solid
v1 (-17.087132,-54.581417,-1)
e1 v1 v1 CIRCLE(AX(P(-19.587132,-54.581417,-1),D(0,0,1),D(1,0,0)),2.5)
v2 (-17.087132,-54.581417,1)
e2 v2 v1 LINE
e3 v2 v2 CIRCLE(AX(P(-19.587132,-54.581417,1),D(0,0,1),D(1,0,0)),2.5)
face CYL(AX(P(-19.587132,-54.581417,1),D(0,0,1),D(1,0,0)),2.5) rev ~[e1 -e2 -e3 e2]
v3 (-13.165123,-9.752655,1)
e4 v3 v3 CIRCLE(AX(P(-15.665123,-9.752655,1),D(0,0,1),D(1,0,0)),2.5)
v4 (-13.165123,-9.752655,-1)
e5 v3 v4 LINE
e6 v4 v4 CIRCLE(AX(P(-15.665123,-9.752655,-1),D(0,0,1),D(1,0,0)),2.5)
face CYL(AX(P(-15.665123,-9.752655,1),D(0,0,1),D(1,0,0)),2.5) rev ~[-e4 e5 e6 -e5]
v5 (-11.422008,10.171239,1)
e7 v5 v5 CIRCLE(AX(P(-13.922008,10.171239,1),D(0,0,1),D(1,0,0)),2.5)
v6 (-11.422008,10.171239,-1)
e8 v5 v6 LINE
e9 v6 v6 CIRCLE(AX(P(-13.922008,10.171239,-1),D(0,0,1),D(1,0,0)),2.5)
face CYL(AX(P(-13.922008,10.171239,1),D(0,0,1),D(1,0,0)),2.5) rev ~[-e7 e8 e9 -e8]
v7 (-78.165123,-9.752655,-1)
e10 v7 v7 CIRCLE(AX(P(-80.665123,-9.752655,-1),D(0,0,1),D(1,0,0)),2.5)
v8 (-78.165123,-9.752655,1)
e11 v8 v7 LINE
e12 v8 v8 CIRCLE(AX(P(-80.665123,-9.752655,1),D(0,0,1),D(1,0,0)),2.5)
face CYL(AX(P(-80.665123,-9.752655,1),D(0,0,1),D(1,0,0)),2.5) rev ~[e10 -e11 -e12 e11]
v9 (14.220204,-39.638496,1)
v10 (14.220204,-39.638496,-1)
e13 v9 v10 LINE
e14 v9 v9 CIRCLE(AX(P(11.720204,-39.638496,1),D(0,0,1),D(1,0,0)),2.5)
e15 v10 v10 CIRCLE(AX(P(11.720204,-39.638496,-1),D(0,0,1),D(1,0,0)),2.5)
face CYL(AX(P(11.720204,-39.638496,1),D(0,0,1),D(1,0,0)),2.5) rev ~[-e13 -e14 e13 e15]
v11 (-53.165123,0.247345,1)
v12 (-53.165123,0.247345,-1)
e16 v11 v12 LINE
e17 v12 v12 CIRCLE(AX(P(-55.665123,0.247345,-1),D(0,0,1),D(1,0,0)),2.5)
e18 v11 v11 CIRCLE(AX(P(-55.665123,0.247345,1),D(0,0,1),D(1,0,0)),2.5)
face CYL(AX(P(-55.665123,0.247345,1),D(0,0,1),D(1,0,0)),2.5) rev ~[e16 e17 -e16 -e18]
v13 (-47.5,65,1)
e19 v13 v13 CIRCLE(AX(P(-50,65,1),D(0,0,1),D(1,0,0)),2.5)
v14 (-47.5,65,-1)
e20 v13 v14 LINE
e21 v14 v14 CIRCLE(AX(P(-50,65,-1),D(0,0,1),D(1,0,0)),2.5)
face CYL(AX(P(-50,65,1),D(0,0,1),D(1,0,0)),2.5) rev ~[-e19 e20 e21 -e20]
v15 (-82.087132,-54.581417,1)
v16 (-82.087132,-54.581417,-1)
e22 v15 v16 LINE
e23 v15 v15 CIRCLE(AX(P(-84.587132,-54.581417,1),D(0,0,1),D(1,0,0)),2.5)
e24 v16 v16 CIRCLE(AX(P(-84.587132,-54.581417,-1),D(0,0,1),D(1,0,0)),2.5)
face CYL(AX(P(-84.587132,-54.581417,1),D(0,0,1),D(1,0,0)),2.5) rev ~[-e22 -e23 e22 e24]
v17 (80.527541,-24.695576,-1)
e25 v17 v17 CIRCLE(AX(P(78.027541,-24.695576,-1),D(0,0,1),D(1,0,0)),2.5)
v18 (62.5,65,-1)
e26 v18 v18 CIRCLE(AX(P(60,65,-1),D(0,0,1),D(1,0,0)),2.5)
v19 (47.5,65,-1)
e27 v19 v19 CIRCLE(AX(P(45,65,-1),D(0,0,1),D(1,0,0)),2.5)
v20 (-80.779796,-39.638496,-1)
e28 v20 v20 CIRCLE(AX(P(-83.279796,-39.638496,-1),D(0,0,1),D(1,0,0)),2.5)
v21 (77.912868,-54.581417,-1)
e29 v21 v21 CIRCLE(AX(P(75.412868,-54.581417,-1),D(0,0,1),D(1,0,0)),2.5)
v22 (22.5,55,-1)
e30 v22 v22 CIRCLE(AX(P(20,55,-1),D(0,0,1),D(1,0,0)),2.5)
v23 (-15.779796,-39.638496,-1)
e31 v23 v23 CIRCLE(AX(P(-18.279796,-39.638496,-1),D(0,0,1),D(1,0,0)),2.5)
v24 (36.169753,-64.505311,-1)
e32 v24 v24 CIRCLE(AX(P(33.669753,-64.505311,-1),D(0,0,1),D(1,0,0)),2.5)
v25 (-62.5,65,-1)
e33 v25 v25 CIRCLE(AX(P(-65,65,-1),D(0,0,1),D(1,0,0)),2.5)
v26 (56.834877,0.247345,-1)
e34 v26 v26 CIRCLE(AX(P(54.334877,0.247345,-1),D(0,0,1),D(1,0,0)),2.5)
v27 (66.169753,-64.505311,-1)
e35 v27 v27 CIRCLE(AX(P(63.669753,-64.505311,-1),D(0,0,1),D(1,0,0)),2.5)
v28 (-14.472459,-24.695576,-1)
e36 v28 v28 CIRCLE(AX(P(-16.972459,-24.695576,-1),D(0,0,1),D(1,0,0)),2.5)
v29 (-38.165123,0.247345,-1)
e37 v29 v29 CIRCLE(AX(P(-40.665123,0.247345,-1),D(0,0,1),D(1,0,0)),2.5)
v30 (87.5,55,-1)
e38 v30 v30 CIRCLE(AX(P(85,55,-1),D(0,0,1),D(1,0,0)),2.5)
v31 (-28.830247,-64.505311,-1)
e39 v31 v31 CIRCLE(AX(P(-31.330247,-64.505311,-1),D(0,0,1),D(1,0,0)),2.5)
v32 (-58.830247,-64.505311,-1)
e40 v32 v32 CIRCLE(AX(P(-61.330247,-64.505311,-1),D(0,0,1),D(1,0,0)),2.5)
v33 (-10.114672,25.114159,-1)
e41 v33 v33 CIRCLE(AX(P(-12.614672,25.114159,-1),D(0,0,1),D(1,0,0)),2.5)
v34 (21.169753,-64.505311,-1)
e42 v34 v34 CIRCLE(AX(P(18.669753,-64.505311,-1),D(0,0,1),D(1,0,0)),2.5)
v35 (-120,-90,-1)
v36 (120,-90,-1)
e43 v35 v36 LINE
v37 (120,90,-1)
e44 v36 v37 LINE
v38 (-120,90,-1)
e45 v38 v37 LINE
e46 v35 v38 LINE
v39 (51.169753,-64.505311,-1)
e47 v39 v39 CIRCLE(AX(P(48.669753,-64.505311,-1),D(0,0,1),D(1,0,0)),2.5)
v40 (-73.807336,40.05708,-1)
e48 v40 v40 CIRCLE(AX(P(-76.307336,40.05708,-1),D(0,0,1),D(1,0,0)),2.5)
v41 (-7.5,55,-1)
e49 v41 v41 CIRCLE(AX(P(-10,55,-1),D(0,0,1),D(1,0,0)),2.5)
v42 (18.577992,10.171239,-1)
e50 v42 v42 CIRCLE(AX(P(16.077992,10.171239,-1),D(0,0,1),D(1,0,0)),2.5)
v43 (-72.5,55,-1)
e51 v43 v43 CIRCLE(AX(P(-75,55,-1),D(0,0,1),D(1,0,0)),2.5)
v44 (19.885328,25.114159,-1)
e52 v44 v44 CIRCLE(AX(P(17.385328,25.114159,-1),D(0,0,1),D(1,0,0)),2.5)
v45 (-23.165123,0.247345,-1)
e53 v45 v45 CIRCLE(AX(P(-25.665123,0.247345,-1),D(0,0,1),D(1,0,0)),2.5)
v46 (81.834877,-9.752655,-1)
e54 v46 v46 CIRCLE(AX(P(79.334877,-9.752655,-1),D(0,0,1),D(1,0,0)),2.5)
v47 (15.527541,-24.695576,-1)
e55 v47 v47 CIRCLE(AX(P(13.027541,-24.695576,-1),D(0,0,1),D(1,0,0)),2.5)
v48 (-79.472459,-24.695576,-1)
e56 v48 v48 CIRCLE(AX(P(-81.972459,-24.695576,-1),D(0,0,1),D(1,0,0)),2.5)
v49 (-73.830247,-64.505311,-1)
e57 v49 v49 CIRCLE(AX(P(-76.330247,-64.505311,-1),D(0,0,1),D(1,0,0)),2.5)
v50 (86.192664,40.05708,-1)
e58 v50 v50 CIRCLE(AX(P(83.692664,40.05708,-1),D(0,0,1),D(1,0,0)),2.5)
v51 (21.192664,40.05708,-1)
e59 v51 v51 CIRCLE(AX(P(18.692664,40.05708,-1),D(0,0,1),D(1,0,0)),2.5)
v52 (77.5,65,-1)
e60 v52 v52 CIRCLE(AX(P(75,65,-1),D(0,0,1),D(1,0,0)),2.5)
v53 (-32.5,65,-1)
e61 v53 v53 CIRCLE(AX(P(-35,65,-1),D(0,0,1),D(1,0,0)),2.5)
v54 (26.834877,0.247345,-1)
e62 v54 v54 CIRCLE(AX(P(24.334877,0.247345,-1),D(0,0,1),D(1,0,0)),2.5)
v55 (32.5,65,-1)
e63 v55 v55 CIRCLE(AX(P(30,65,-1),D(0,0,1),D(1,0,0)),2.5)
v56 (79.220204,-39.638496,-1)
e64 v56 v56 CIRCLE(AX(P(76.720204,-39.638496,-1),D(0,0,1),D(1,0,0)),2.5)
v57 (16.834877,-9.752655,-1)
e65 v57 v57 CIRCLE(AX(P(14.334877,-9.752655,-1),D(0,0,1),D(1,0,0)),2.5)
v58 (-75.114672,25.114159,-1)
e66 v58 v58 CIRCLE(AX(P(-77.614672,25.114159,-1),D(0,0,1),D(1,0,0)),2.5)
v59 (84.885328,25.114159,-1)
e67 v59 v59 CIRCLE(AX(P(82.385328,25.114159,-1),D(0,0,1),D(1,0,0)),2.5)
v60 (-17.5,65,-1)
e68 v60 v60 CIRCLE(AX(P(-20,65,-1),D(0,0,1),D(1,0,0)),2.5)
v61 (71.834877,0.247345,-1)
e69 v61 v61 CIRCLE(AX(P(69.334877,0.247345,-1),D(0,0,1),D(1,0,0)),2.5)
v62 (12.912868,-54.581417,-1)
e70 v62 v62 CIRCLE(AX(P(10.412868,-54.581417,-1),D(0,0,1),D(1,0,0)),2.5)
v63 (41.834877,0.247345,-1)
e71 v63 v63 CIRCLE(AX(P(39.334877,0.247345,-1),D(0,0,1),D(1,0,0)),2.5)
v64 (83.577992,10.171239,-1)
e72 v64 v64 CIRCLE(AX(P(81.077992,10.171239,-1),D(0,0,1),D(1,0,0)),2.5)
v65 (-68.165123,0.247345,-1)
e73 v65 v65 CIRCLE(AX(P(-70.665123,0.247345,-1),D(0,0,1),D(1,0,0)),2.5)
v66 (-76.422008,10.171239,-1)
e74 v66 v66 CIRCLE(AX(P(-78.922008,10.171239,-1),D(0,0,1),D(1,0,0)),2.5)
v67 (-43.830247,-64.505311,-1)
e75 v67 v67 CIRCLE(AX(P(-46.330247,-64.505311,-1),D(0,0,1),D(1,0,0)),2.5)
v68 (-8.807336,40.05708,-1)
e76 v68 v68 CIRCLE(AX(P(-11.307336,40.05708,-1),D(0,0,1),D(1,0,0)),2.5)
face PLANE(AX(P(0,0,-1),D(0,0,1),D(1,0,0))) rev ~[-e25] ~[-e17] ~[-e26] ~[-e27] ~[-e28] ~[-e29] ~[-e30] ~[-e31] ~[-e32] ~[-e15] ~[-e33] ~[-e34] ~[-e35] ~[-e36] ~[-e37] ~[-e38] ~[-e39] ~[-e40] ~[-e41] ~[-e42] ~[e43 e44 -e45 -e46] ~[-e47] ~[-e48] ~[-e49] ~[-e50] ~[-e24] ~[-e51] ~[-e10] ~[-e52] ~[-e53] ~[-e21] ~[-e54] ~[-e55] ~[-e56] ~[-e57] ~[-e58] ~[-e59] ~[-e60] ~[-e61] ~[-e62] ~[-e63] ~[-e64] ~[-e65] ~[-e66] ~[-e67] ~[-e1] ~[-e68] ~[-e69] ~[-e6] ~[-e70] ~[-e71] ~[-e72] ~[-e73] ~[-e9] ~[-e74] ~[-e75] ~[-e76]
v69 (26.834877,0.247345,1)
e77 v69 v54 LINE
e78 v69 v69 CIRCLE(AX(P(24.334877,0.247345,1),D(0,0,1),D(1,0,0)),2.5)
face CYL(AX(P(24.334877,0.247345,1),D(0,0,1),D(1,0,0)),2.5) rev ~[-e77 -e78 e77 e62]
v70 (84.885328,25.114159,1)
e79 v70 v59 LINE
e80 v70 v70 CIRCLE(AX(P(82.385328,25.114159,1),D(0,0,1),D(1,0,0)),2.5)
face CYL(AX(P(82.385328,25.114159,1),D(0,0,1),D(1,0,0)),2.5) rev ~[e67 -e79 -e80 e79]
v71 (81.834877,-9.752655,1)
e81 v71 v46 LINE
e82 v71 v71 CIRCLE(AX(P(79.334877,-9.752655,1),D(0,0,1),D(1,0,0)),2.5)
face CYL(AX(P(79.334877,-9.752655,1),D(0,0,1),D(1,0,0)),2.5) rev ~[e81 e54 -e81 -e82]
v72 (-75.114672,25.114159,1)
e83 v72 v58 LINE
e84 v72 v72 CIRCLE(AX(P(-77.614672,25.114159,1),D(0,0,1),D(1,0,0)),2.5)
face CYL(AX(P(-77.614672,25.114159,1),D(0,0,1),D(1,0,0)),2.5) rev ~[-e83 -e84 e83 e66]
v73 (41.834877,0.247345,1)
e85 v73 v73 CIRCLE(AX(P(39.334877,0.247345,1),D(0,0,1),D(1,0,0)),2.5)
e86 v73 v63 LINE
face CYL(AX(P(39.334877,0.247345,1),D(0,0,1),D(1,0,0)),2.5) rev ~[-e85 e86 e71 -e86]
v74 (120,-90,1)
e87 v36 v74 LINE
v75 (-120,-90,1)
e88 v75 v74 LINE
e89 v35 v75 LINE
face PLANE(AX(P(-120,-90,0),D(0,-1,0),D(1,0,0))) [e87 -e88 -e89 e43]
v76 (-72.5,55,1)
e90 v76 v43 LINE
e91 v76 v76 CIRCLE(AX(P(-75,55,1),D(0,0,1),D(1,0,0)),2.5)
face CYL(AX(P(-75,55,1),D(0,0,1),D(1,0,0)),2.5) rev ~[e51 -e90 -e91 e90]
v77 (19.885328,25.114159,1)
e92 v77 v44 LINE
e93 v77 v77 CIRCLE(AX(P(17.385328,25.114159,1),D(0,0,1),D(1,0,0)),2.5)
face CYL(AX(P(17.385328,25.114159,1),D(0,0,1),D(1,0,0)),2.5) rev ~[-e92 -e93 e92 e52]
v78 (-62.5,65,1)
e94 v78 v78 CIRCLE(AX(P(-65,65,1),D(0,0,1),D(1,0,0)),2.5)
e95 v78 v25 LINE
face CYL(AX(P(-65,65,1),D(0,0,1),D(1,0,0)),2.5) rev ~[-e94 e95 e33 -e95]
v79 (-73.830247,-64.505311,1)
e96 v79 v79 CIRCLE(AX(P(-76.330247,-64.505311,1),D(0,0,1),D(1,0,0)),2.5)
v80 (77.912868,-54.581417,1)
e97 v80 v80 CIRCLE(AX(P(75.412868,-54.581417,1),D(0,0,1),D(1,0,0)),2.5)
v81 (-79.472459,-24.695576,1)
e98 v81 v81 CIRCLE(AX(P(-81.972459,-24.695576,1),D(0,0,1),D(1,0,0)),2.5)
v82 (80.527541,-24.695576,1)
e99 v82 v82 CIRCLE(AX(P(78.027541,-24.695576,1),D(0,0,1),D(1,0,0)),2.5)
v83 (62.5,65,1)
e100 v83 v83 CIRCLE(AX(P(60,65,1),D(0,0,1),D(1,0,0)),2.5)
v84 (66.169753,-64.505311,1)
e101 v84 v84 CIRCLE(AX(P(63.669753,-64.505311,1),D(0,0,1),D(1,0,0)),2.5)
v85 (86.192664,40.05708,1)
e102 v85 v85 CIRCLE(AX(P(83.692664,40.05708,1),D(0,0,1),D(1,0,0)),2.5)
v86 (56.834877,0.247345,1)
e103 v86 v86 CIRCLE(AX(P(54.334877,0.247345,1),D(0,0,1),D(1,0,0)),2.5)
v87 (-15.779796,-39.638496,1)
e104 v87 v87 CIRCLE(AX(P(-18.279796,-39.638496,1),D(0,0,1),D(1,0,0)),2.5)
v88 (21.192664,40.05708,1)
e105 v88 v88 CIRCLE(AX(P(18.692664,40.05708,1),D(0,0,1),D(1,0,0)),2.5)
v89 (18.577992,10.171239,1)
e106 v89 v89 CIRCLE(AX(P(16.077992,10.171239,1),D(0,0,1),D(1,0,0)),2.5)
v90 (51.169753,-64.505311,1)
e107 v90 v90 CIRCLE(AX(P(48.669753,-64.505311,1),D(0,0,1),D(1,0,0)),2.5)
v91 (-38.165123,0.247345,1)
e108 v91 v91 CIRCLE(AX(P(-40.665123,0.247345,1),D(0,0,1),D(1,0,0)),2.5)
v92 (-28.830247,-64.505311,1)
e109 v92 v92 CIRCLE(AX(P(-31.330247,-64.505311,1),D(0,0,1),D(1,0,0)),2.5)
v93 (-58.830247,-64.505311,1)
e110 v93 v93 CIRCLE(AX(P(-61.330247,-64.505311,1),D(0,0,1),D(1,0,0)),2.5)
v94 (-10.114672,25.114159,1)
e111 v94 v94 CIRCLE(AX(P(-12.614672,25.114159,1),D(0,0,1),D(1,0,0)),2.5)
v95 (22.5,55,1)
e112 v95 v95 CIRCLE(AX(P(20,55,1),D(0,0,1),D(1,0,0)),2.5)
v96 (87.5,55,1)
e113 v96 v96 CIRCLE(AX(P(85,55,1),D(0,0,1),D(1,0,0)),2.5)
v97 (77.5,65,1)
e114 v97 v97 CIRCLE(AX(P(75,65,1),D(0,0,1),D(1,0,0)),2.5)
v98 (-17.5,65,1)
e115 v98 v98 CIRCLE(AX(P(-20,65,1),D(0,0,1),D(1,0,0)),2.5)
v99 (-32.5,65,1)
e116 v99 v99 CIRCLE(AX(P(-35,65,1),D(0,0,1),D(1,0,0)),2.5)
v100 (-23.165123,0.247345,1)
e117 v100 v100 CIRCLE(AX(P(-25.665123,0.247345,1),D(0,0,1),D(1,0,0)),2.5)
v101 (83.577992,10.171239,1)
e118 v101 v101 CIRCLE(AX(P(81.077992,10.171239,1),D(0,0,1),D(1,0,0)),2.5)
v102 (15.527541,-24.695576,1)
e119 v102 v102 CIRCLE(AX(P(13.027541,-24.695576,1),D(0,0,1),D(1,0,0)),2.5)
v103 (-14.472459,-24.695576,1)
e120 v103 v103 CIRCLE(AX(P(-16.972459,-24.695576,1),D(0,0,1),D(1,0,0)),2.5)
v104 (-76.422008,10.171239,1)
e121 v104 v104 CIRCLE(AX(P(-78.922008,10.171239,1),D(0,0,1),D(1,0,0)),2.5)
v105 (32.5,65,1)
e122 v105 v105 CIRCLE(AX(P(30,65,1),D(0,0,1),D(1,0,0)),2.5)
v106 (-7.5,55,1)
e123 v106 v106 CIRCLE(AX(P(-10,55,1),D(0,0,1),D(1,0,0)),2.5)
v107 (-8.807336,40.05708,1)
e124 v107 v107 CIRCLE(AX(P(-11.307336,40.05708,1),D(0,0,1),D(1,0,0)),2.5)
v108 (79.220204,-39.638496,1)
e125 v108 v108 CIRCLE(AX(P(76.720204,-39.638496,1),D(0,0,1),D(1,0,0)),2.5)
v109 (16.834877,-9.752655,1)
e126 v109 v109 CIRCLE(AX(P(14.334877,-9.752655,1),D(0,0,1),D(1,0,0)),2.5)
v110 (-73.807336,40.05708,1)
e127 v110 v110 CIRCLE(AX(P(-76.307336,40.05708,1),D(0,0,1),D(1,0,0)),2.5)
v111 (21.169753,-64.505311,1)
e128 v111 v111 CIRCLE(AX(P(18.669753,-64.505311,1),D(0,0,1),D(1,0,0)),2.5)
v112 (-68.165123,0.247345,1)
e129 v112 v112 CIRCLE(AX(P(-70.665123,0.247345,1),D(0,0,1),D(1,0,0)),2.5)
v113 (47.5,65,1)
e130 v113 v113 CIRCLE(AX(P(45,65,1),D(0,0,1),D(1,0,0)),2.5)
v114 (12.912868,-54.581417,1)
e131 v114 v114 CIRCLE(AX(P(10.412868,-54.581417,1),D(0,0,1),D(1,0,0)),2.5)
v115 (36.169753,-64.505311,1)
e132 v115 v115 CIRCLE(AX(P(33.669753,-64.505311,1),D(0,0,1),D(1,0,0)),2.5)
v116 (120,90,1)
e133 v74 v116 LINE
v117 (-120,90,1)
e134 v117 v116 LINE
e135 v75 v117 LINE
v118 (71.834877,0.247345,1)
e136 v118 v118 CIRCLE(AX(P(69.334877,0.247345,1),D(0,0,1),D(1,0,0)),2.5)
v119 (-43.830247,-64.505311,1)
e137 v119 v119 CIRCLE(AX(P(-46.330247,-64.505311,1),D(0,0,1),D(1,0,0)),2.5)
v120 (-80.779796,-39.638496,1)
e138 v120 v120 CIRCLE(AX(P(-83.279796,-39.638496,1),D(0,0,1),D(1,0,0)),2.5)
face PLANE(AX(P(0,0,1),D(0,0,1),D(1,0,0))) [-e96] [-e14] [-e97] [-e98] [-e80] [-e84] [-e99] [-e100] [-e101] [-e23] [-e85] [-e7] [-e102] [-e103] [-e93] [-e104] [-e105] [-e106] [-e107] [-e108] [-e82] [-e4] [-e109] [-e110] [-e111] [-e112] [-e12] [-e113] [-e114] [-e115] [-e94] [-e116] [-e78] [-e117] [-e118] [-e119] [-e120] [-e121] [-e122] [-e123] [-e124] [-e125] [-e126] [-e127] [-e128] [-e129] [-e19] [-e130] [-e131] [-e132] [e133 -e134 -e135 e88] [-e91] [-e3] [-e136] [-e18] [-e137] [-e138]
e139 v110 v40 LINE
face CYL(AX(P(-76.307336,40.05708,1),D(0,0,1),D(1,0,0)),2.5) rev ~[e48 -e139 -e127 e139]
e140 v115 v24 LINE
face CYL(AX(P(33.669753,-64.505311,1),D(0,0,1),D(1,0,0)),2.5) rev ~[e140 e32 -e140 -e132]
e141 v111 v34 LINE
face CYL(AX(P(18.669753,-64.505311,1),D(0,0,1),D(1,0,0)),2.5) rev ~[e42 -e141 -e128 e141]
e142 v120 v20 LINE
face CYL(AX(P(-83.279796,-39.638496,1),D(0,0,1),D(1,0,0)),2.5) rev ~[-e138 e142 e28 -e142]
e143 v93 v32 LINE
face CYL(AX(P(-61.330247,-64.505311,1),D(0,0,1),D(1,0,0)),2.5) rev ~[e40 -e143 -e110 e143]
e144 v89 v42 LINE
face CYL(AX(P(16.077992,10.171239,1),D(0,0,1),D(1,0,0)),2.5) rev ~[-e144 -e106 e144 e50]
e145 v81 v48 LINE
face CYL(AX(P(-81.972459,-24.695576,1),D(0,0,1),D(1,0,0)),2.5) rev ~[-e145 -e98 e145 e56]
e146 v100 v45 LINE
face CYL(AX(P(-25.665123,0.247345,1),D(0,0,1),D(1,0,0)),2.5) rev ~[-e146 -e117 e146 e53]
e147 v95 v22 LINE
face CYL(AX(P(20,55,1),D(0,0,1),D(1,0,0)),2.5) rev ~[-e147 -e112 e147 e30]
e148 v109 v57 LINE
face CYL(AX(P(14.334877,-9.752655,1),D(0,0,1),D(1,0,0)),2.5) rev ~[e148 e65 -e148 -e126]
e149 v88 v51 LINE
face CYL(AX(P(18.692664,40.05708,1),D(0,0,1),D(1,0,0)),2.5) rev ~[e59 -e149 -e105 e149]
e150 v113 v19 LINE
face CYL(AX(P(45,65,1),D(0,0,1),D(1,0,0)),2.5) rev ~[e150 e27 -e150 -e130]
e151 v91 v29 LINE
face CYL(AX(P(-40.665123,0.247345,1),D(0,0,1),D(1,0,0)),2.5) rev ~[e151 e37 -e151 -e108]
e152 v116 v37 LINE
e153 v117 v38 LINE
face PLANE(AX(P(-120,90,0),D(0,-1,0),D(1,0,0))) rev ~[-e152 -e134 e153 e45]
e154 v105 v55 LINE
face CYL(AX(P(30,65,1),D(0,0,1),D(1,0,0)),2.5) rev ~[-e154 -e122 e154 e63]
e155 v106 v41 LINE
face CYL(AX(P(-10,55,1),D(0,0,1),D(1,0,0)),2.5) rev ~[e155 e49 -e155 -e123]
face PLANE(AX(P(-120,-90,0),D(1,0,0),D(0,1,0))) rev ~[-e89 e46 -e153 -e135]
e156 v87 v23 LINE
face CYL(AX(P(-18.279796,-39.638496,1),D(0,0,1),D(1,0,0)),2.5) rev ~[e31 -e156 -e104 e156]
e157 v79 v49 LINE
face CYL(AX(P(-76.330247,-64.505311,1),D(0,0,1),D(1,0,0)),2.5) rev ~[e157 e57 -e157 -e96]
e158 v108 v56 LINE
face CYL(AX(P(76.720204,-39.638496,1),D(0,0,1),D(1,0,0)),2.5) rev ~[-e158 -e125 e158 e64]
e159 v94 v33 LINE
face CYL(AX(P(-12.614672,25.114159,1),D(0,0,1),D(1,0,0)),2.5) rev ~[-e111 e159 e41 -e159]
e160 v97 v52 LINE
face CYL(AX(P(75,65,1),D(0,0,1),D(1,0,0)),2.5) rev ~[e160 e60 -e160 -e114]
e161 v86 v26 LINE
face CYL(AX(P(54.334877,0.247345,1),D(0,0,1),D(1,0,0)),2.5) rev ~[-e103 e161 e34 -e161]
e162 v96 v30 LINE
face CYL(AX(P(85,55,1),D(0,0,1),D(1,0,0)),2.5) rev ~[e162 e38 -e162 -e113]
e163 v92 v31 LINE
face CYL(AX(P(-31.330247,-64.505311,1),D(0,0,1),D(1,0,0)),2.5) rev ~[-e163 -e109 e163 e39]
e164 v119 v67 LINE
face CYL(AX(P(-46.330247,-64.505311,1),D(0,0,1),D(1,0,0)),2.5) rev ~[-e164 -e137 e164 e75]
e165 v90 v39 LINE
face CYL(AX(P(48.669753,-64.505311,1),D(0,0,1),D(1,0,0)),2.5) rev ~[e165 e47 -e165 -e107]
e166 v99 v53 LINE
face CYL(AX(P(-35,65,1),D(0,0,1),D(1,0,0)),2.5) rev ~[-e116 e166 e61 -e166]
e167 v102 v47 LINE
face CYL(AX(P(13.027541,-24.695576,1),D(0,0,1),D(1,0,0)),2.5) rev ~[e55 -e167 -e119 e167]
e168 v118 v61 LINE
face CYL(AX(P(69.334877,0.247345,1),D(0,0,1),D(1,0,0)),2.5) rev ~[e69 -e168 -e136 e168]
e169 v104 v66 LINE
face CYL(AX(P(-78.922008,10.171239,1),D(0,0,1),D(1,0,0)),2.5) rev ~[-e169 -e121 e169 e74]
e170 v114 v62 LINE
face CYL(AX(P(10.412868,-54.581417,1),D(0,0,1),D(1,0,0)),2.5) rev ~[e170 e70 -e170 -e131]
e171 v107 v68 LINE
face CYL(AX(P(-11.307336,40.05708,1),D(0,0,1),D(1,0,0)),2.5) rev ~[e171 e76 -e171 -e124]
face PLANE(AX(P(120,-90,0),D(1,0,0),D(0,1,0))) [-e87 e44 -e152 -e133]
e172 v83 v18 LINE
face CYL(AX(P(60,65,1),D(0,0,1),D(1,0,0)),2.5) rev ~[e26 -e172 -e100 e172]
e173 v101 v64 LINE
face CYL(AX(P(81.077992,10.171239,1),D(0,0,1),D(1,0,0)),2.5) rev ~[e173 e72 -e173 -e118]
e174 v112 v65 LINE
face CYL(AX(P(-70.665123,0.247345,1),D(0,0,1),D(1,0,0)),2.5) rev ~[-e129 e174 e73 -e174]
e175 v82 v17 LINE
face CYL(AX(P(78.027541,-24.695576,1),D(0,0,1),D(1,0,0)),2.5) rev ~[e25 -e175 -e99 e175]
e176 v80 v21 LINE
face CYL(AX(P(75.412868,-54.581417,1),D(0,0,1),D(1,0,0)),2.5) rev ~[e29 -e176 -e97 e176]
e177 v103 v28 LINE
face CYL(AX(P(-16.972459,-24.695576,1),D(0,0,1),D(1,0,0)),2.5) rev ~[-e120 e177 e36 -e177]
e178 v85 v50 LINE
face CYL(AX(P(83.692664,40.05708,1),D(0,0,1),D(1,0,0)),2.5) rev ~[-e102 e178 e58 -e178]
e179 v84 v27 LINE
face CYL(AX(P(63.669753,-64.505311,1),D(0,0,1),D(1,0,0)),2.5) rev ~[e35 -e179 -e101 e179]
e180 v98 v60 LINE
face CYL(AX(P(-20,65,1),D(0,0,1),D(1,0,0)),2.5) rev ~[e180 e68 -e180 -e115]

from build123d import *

# Parameters (mm, degrees)
F0_W     = 240
F0_H     = 180
F1_DEPTH = 1
F2_R     = 2.5
F3_DEPTH = 2.001


with BuildPart() as f1:
    # F0 (on Top) → F1 (new body, symmetric)
    with BuildSketch(Plane.XY):
        Rectangle(F0_W, F0_H)
    extrude(amount=F1_DEPTH, both=True)

    # F2 (on face) → F3 (cut, through all)
    with BuildSketch(Plane.XY.offset(1)):
        with Locations((-20, 65)):
            Circle(F2_R)
        with Locations((-25.665123, 0.247345)):
            Circle(F2_R)
        with Locations((-31.330247, -64.505311)):
            Circle(F2_R)
        with Locations((-35, 65)):
            Circle(F2_R)
        with Locations((-40.665123, 0.247345)):
            Circle(F2_R)
        with Locations((-46.330247, -64.505311)):
            Circle(F2_R)
        with Locations((-50, 65)):
            Circle(F2_R)
        with Locations((-55.665123, 0.247345)):
            Circle(F2_R)
        with Locations((-61.330247, -64.505311)):
            Circle(F2_R)
        with Locations((-65, 65)):
            Circle(F2_R)
        with Locations((-70.665123, 0.247345)):
            Circle(F2_R)
        with Locations((-76.330247, -64.505311)):
            Circle(F2_R)
        with Locations((-75, 55)):
            Circle(F2_R)
        with Locations((-76.307336, 40.05708)):
            Circle(F2_R)
        with Locations((-77.614672, 25.114159)):
            Circle(F2_R)
        with Locations((-78.922008, 10.171239)):
            Circle(F2_R)
        with Locations((-80.665123, -9.752655)):
            Circle(F2_R)
        with Locations((-81.972459, -24.695576)):
            Circle(F2_R)
        with Locations((-83.279796, -39.638496)):
            Circle(F2_R)
        with Locations((-84.587132, -54.581417)):
            Circle(F2_R)
        with Locations((-10, 55)):
            Circle(F2_R)
        with Locations((-11.307336, 40.05708)):
            Circle(F2_R)
        with Locations((-12.614672, 25.114159)):
            Circle(F2_R)
        with Locations((-13.922008, 10.171239)):
            Circle(F2_R)
        with Locations((-15.665123, -9.752655)):
            Circle(F2_R)
        with Locations((-16.972459, -24.695576)):
            Circle(F2_R)
        with Locations((-18.279796, -39.638496)):
            Circle(F2_R)
        with Locations((-19.587132, -54.581417)):
            Circle(F2_R)
        with Locations((30, 65)):
            Circle(F2_R)
        with Locations((39.334877, 0.247345)):
            Circle(F2_R)
        with Locations((16.077992, 10.171239)):
            Circle(F2_R)
        with Locations((24.334877, 0.247345)):
            Circle(F2_R)
        with Locations((78.027541, -24.695576)):
            Circle(F2_R)
        with Locations((81.077992, 10.171239)):
            Circle(F2_R)
        with Locations((79.334877, -9.752655)):
            Circle(F2_R)
        with Locations((85, 55)):
            Circle(F2_R)
        with Locations((45, 65)):
            Circle(F2_R)
        with Locations((48.669753, -64.505311)):
            Circle(F2_R)
        with Locations((20, 55)):
            Circle(F2_R)
        with Locations((54.334877, 0.247345)):
            Circle(F2_R)
        with Locations((60, 65)):
            Circle(F2_R)
        with Locations((75, 65)):
            Circle(F2_R)
        with Locations((69.334877, 0.247345)):
            Circle(F2_R)
        with Locations((83.692664, 40.05708)):
            Circle(F2_R)
        with Locations((18.669753, -64.505311)):
            Circle(F2_R)
        with Locations((13.027541, -24.695576)):
            Circle(F2_R)
        with Locations((17.385328, 25.114159)):
            Circle(F2_R)
        with Locations((33.669753, -64.505311)):
            Circle(F2_R)
        with Locations((14.334877, -9.752655)):
            Circle(F2_R)
        with Locations((82.385328, 25.114159)):
            Circle(F2_R)
        with Locations((76.720204, -39.638496)):
            Circle(F2_R)
        with Locations((11.720204, -39.638496)):
            Circle(F2_R)
        with Locations((63.669753, -64.505311)):
            Circle(F2_R)
        with Locations((75.412868, -54.581417)):
            Circle(F2_R)
        with Locations((18.692664, 40.05708)):
            Circle(F2_R)
        with Locations((10.412868, -54.581417)):
            Circle(F2_R)
    extrude(amount=-F3_DEPTH, mode=Mode.SUBTRACT)


solid = f1.part
